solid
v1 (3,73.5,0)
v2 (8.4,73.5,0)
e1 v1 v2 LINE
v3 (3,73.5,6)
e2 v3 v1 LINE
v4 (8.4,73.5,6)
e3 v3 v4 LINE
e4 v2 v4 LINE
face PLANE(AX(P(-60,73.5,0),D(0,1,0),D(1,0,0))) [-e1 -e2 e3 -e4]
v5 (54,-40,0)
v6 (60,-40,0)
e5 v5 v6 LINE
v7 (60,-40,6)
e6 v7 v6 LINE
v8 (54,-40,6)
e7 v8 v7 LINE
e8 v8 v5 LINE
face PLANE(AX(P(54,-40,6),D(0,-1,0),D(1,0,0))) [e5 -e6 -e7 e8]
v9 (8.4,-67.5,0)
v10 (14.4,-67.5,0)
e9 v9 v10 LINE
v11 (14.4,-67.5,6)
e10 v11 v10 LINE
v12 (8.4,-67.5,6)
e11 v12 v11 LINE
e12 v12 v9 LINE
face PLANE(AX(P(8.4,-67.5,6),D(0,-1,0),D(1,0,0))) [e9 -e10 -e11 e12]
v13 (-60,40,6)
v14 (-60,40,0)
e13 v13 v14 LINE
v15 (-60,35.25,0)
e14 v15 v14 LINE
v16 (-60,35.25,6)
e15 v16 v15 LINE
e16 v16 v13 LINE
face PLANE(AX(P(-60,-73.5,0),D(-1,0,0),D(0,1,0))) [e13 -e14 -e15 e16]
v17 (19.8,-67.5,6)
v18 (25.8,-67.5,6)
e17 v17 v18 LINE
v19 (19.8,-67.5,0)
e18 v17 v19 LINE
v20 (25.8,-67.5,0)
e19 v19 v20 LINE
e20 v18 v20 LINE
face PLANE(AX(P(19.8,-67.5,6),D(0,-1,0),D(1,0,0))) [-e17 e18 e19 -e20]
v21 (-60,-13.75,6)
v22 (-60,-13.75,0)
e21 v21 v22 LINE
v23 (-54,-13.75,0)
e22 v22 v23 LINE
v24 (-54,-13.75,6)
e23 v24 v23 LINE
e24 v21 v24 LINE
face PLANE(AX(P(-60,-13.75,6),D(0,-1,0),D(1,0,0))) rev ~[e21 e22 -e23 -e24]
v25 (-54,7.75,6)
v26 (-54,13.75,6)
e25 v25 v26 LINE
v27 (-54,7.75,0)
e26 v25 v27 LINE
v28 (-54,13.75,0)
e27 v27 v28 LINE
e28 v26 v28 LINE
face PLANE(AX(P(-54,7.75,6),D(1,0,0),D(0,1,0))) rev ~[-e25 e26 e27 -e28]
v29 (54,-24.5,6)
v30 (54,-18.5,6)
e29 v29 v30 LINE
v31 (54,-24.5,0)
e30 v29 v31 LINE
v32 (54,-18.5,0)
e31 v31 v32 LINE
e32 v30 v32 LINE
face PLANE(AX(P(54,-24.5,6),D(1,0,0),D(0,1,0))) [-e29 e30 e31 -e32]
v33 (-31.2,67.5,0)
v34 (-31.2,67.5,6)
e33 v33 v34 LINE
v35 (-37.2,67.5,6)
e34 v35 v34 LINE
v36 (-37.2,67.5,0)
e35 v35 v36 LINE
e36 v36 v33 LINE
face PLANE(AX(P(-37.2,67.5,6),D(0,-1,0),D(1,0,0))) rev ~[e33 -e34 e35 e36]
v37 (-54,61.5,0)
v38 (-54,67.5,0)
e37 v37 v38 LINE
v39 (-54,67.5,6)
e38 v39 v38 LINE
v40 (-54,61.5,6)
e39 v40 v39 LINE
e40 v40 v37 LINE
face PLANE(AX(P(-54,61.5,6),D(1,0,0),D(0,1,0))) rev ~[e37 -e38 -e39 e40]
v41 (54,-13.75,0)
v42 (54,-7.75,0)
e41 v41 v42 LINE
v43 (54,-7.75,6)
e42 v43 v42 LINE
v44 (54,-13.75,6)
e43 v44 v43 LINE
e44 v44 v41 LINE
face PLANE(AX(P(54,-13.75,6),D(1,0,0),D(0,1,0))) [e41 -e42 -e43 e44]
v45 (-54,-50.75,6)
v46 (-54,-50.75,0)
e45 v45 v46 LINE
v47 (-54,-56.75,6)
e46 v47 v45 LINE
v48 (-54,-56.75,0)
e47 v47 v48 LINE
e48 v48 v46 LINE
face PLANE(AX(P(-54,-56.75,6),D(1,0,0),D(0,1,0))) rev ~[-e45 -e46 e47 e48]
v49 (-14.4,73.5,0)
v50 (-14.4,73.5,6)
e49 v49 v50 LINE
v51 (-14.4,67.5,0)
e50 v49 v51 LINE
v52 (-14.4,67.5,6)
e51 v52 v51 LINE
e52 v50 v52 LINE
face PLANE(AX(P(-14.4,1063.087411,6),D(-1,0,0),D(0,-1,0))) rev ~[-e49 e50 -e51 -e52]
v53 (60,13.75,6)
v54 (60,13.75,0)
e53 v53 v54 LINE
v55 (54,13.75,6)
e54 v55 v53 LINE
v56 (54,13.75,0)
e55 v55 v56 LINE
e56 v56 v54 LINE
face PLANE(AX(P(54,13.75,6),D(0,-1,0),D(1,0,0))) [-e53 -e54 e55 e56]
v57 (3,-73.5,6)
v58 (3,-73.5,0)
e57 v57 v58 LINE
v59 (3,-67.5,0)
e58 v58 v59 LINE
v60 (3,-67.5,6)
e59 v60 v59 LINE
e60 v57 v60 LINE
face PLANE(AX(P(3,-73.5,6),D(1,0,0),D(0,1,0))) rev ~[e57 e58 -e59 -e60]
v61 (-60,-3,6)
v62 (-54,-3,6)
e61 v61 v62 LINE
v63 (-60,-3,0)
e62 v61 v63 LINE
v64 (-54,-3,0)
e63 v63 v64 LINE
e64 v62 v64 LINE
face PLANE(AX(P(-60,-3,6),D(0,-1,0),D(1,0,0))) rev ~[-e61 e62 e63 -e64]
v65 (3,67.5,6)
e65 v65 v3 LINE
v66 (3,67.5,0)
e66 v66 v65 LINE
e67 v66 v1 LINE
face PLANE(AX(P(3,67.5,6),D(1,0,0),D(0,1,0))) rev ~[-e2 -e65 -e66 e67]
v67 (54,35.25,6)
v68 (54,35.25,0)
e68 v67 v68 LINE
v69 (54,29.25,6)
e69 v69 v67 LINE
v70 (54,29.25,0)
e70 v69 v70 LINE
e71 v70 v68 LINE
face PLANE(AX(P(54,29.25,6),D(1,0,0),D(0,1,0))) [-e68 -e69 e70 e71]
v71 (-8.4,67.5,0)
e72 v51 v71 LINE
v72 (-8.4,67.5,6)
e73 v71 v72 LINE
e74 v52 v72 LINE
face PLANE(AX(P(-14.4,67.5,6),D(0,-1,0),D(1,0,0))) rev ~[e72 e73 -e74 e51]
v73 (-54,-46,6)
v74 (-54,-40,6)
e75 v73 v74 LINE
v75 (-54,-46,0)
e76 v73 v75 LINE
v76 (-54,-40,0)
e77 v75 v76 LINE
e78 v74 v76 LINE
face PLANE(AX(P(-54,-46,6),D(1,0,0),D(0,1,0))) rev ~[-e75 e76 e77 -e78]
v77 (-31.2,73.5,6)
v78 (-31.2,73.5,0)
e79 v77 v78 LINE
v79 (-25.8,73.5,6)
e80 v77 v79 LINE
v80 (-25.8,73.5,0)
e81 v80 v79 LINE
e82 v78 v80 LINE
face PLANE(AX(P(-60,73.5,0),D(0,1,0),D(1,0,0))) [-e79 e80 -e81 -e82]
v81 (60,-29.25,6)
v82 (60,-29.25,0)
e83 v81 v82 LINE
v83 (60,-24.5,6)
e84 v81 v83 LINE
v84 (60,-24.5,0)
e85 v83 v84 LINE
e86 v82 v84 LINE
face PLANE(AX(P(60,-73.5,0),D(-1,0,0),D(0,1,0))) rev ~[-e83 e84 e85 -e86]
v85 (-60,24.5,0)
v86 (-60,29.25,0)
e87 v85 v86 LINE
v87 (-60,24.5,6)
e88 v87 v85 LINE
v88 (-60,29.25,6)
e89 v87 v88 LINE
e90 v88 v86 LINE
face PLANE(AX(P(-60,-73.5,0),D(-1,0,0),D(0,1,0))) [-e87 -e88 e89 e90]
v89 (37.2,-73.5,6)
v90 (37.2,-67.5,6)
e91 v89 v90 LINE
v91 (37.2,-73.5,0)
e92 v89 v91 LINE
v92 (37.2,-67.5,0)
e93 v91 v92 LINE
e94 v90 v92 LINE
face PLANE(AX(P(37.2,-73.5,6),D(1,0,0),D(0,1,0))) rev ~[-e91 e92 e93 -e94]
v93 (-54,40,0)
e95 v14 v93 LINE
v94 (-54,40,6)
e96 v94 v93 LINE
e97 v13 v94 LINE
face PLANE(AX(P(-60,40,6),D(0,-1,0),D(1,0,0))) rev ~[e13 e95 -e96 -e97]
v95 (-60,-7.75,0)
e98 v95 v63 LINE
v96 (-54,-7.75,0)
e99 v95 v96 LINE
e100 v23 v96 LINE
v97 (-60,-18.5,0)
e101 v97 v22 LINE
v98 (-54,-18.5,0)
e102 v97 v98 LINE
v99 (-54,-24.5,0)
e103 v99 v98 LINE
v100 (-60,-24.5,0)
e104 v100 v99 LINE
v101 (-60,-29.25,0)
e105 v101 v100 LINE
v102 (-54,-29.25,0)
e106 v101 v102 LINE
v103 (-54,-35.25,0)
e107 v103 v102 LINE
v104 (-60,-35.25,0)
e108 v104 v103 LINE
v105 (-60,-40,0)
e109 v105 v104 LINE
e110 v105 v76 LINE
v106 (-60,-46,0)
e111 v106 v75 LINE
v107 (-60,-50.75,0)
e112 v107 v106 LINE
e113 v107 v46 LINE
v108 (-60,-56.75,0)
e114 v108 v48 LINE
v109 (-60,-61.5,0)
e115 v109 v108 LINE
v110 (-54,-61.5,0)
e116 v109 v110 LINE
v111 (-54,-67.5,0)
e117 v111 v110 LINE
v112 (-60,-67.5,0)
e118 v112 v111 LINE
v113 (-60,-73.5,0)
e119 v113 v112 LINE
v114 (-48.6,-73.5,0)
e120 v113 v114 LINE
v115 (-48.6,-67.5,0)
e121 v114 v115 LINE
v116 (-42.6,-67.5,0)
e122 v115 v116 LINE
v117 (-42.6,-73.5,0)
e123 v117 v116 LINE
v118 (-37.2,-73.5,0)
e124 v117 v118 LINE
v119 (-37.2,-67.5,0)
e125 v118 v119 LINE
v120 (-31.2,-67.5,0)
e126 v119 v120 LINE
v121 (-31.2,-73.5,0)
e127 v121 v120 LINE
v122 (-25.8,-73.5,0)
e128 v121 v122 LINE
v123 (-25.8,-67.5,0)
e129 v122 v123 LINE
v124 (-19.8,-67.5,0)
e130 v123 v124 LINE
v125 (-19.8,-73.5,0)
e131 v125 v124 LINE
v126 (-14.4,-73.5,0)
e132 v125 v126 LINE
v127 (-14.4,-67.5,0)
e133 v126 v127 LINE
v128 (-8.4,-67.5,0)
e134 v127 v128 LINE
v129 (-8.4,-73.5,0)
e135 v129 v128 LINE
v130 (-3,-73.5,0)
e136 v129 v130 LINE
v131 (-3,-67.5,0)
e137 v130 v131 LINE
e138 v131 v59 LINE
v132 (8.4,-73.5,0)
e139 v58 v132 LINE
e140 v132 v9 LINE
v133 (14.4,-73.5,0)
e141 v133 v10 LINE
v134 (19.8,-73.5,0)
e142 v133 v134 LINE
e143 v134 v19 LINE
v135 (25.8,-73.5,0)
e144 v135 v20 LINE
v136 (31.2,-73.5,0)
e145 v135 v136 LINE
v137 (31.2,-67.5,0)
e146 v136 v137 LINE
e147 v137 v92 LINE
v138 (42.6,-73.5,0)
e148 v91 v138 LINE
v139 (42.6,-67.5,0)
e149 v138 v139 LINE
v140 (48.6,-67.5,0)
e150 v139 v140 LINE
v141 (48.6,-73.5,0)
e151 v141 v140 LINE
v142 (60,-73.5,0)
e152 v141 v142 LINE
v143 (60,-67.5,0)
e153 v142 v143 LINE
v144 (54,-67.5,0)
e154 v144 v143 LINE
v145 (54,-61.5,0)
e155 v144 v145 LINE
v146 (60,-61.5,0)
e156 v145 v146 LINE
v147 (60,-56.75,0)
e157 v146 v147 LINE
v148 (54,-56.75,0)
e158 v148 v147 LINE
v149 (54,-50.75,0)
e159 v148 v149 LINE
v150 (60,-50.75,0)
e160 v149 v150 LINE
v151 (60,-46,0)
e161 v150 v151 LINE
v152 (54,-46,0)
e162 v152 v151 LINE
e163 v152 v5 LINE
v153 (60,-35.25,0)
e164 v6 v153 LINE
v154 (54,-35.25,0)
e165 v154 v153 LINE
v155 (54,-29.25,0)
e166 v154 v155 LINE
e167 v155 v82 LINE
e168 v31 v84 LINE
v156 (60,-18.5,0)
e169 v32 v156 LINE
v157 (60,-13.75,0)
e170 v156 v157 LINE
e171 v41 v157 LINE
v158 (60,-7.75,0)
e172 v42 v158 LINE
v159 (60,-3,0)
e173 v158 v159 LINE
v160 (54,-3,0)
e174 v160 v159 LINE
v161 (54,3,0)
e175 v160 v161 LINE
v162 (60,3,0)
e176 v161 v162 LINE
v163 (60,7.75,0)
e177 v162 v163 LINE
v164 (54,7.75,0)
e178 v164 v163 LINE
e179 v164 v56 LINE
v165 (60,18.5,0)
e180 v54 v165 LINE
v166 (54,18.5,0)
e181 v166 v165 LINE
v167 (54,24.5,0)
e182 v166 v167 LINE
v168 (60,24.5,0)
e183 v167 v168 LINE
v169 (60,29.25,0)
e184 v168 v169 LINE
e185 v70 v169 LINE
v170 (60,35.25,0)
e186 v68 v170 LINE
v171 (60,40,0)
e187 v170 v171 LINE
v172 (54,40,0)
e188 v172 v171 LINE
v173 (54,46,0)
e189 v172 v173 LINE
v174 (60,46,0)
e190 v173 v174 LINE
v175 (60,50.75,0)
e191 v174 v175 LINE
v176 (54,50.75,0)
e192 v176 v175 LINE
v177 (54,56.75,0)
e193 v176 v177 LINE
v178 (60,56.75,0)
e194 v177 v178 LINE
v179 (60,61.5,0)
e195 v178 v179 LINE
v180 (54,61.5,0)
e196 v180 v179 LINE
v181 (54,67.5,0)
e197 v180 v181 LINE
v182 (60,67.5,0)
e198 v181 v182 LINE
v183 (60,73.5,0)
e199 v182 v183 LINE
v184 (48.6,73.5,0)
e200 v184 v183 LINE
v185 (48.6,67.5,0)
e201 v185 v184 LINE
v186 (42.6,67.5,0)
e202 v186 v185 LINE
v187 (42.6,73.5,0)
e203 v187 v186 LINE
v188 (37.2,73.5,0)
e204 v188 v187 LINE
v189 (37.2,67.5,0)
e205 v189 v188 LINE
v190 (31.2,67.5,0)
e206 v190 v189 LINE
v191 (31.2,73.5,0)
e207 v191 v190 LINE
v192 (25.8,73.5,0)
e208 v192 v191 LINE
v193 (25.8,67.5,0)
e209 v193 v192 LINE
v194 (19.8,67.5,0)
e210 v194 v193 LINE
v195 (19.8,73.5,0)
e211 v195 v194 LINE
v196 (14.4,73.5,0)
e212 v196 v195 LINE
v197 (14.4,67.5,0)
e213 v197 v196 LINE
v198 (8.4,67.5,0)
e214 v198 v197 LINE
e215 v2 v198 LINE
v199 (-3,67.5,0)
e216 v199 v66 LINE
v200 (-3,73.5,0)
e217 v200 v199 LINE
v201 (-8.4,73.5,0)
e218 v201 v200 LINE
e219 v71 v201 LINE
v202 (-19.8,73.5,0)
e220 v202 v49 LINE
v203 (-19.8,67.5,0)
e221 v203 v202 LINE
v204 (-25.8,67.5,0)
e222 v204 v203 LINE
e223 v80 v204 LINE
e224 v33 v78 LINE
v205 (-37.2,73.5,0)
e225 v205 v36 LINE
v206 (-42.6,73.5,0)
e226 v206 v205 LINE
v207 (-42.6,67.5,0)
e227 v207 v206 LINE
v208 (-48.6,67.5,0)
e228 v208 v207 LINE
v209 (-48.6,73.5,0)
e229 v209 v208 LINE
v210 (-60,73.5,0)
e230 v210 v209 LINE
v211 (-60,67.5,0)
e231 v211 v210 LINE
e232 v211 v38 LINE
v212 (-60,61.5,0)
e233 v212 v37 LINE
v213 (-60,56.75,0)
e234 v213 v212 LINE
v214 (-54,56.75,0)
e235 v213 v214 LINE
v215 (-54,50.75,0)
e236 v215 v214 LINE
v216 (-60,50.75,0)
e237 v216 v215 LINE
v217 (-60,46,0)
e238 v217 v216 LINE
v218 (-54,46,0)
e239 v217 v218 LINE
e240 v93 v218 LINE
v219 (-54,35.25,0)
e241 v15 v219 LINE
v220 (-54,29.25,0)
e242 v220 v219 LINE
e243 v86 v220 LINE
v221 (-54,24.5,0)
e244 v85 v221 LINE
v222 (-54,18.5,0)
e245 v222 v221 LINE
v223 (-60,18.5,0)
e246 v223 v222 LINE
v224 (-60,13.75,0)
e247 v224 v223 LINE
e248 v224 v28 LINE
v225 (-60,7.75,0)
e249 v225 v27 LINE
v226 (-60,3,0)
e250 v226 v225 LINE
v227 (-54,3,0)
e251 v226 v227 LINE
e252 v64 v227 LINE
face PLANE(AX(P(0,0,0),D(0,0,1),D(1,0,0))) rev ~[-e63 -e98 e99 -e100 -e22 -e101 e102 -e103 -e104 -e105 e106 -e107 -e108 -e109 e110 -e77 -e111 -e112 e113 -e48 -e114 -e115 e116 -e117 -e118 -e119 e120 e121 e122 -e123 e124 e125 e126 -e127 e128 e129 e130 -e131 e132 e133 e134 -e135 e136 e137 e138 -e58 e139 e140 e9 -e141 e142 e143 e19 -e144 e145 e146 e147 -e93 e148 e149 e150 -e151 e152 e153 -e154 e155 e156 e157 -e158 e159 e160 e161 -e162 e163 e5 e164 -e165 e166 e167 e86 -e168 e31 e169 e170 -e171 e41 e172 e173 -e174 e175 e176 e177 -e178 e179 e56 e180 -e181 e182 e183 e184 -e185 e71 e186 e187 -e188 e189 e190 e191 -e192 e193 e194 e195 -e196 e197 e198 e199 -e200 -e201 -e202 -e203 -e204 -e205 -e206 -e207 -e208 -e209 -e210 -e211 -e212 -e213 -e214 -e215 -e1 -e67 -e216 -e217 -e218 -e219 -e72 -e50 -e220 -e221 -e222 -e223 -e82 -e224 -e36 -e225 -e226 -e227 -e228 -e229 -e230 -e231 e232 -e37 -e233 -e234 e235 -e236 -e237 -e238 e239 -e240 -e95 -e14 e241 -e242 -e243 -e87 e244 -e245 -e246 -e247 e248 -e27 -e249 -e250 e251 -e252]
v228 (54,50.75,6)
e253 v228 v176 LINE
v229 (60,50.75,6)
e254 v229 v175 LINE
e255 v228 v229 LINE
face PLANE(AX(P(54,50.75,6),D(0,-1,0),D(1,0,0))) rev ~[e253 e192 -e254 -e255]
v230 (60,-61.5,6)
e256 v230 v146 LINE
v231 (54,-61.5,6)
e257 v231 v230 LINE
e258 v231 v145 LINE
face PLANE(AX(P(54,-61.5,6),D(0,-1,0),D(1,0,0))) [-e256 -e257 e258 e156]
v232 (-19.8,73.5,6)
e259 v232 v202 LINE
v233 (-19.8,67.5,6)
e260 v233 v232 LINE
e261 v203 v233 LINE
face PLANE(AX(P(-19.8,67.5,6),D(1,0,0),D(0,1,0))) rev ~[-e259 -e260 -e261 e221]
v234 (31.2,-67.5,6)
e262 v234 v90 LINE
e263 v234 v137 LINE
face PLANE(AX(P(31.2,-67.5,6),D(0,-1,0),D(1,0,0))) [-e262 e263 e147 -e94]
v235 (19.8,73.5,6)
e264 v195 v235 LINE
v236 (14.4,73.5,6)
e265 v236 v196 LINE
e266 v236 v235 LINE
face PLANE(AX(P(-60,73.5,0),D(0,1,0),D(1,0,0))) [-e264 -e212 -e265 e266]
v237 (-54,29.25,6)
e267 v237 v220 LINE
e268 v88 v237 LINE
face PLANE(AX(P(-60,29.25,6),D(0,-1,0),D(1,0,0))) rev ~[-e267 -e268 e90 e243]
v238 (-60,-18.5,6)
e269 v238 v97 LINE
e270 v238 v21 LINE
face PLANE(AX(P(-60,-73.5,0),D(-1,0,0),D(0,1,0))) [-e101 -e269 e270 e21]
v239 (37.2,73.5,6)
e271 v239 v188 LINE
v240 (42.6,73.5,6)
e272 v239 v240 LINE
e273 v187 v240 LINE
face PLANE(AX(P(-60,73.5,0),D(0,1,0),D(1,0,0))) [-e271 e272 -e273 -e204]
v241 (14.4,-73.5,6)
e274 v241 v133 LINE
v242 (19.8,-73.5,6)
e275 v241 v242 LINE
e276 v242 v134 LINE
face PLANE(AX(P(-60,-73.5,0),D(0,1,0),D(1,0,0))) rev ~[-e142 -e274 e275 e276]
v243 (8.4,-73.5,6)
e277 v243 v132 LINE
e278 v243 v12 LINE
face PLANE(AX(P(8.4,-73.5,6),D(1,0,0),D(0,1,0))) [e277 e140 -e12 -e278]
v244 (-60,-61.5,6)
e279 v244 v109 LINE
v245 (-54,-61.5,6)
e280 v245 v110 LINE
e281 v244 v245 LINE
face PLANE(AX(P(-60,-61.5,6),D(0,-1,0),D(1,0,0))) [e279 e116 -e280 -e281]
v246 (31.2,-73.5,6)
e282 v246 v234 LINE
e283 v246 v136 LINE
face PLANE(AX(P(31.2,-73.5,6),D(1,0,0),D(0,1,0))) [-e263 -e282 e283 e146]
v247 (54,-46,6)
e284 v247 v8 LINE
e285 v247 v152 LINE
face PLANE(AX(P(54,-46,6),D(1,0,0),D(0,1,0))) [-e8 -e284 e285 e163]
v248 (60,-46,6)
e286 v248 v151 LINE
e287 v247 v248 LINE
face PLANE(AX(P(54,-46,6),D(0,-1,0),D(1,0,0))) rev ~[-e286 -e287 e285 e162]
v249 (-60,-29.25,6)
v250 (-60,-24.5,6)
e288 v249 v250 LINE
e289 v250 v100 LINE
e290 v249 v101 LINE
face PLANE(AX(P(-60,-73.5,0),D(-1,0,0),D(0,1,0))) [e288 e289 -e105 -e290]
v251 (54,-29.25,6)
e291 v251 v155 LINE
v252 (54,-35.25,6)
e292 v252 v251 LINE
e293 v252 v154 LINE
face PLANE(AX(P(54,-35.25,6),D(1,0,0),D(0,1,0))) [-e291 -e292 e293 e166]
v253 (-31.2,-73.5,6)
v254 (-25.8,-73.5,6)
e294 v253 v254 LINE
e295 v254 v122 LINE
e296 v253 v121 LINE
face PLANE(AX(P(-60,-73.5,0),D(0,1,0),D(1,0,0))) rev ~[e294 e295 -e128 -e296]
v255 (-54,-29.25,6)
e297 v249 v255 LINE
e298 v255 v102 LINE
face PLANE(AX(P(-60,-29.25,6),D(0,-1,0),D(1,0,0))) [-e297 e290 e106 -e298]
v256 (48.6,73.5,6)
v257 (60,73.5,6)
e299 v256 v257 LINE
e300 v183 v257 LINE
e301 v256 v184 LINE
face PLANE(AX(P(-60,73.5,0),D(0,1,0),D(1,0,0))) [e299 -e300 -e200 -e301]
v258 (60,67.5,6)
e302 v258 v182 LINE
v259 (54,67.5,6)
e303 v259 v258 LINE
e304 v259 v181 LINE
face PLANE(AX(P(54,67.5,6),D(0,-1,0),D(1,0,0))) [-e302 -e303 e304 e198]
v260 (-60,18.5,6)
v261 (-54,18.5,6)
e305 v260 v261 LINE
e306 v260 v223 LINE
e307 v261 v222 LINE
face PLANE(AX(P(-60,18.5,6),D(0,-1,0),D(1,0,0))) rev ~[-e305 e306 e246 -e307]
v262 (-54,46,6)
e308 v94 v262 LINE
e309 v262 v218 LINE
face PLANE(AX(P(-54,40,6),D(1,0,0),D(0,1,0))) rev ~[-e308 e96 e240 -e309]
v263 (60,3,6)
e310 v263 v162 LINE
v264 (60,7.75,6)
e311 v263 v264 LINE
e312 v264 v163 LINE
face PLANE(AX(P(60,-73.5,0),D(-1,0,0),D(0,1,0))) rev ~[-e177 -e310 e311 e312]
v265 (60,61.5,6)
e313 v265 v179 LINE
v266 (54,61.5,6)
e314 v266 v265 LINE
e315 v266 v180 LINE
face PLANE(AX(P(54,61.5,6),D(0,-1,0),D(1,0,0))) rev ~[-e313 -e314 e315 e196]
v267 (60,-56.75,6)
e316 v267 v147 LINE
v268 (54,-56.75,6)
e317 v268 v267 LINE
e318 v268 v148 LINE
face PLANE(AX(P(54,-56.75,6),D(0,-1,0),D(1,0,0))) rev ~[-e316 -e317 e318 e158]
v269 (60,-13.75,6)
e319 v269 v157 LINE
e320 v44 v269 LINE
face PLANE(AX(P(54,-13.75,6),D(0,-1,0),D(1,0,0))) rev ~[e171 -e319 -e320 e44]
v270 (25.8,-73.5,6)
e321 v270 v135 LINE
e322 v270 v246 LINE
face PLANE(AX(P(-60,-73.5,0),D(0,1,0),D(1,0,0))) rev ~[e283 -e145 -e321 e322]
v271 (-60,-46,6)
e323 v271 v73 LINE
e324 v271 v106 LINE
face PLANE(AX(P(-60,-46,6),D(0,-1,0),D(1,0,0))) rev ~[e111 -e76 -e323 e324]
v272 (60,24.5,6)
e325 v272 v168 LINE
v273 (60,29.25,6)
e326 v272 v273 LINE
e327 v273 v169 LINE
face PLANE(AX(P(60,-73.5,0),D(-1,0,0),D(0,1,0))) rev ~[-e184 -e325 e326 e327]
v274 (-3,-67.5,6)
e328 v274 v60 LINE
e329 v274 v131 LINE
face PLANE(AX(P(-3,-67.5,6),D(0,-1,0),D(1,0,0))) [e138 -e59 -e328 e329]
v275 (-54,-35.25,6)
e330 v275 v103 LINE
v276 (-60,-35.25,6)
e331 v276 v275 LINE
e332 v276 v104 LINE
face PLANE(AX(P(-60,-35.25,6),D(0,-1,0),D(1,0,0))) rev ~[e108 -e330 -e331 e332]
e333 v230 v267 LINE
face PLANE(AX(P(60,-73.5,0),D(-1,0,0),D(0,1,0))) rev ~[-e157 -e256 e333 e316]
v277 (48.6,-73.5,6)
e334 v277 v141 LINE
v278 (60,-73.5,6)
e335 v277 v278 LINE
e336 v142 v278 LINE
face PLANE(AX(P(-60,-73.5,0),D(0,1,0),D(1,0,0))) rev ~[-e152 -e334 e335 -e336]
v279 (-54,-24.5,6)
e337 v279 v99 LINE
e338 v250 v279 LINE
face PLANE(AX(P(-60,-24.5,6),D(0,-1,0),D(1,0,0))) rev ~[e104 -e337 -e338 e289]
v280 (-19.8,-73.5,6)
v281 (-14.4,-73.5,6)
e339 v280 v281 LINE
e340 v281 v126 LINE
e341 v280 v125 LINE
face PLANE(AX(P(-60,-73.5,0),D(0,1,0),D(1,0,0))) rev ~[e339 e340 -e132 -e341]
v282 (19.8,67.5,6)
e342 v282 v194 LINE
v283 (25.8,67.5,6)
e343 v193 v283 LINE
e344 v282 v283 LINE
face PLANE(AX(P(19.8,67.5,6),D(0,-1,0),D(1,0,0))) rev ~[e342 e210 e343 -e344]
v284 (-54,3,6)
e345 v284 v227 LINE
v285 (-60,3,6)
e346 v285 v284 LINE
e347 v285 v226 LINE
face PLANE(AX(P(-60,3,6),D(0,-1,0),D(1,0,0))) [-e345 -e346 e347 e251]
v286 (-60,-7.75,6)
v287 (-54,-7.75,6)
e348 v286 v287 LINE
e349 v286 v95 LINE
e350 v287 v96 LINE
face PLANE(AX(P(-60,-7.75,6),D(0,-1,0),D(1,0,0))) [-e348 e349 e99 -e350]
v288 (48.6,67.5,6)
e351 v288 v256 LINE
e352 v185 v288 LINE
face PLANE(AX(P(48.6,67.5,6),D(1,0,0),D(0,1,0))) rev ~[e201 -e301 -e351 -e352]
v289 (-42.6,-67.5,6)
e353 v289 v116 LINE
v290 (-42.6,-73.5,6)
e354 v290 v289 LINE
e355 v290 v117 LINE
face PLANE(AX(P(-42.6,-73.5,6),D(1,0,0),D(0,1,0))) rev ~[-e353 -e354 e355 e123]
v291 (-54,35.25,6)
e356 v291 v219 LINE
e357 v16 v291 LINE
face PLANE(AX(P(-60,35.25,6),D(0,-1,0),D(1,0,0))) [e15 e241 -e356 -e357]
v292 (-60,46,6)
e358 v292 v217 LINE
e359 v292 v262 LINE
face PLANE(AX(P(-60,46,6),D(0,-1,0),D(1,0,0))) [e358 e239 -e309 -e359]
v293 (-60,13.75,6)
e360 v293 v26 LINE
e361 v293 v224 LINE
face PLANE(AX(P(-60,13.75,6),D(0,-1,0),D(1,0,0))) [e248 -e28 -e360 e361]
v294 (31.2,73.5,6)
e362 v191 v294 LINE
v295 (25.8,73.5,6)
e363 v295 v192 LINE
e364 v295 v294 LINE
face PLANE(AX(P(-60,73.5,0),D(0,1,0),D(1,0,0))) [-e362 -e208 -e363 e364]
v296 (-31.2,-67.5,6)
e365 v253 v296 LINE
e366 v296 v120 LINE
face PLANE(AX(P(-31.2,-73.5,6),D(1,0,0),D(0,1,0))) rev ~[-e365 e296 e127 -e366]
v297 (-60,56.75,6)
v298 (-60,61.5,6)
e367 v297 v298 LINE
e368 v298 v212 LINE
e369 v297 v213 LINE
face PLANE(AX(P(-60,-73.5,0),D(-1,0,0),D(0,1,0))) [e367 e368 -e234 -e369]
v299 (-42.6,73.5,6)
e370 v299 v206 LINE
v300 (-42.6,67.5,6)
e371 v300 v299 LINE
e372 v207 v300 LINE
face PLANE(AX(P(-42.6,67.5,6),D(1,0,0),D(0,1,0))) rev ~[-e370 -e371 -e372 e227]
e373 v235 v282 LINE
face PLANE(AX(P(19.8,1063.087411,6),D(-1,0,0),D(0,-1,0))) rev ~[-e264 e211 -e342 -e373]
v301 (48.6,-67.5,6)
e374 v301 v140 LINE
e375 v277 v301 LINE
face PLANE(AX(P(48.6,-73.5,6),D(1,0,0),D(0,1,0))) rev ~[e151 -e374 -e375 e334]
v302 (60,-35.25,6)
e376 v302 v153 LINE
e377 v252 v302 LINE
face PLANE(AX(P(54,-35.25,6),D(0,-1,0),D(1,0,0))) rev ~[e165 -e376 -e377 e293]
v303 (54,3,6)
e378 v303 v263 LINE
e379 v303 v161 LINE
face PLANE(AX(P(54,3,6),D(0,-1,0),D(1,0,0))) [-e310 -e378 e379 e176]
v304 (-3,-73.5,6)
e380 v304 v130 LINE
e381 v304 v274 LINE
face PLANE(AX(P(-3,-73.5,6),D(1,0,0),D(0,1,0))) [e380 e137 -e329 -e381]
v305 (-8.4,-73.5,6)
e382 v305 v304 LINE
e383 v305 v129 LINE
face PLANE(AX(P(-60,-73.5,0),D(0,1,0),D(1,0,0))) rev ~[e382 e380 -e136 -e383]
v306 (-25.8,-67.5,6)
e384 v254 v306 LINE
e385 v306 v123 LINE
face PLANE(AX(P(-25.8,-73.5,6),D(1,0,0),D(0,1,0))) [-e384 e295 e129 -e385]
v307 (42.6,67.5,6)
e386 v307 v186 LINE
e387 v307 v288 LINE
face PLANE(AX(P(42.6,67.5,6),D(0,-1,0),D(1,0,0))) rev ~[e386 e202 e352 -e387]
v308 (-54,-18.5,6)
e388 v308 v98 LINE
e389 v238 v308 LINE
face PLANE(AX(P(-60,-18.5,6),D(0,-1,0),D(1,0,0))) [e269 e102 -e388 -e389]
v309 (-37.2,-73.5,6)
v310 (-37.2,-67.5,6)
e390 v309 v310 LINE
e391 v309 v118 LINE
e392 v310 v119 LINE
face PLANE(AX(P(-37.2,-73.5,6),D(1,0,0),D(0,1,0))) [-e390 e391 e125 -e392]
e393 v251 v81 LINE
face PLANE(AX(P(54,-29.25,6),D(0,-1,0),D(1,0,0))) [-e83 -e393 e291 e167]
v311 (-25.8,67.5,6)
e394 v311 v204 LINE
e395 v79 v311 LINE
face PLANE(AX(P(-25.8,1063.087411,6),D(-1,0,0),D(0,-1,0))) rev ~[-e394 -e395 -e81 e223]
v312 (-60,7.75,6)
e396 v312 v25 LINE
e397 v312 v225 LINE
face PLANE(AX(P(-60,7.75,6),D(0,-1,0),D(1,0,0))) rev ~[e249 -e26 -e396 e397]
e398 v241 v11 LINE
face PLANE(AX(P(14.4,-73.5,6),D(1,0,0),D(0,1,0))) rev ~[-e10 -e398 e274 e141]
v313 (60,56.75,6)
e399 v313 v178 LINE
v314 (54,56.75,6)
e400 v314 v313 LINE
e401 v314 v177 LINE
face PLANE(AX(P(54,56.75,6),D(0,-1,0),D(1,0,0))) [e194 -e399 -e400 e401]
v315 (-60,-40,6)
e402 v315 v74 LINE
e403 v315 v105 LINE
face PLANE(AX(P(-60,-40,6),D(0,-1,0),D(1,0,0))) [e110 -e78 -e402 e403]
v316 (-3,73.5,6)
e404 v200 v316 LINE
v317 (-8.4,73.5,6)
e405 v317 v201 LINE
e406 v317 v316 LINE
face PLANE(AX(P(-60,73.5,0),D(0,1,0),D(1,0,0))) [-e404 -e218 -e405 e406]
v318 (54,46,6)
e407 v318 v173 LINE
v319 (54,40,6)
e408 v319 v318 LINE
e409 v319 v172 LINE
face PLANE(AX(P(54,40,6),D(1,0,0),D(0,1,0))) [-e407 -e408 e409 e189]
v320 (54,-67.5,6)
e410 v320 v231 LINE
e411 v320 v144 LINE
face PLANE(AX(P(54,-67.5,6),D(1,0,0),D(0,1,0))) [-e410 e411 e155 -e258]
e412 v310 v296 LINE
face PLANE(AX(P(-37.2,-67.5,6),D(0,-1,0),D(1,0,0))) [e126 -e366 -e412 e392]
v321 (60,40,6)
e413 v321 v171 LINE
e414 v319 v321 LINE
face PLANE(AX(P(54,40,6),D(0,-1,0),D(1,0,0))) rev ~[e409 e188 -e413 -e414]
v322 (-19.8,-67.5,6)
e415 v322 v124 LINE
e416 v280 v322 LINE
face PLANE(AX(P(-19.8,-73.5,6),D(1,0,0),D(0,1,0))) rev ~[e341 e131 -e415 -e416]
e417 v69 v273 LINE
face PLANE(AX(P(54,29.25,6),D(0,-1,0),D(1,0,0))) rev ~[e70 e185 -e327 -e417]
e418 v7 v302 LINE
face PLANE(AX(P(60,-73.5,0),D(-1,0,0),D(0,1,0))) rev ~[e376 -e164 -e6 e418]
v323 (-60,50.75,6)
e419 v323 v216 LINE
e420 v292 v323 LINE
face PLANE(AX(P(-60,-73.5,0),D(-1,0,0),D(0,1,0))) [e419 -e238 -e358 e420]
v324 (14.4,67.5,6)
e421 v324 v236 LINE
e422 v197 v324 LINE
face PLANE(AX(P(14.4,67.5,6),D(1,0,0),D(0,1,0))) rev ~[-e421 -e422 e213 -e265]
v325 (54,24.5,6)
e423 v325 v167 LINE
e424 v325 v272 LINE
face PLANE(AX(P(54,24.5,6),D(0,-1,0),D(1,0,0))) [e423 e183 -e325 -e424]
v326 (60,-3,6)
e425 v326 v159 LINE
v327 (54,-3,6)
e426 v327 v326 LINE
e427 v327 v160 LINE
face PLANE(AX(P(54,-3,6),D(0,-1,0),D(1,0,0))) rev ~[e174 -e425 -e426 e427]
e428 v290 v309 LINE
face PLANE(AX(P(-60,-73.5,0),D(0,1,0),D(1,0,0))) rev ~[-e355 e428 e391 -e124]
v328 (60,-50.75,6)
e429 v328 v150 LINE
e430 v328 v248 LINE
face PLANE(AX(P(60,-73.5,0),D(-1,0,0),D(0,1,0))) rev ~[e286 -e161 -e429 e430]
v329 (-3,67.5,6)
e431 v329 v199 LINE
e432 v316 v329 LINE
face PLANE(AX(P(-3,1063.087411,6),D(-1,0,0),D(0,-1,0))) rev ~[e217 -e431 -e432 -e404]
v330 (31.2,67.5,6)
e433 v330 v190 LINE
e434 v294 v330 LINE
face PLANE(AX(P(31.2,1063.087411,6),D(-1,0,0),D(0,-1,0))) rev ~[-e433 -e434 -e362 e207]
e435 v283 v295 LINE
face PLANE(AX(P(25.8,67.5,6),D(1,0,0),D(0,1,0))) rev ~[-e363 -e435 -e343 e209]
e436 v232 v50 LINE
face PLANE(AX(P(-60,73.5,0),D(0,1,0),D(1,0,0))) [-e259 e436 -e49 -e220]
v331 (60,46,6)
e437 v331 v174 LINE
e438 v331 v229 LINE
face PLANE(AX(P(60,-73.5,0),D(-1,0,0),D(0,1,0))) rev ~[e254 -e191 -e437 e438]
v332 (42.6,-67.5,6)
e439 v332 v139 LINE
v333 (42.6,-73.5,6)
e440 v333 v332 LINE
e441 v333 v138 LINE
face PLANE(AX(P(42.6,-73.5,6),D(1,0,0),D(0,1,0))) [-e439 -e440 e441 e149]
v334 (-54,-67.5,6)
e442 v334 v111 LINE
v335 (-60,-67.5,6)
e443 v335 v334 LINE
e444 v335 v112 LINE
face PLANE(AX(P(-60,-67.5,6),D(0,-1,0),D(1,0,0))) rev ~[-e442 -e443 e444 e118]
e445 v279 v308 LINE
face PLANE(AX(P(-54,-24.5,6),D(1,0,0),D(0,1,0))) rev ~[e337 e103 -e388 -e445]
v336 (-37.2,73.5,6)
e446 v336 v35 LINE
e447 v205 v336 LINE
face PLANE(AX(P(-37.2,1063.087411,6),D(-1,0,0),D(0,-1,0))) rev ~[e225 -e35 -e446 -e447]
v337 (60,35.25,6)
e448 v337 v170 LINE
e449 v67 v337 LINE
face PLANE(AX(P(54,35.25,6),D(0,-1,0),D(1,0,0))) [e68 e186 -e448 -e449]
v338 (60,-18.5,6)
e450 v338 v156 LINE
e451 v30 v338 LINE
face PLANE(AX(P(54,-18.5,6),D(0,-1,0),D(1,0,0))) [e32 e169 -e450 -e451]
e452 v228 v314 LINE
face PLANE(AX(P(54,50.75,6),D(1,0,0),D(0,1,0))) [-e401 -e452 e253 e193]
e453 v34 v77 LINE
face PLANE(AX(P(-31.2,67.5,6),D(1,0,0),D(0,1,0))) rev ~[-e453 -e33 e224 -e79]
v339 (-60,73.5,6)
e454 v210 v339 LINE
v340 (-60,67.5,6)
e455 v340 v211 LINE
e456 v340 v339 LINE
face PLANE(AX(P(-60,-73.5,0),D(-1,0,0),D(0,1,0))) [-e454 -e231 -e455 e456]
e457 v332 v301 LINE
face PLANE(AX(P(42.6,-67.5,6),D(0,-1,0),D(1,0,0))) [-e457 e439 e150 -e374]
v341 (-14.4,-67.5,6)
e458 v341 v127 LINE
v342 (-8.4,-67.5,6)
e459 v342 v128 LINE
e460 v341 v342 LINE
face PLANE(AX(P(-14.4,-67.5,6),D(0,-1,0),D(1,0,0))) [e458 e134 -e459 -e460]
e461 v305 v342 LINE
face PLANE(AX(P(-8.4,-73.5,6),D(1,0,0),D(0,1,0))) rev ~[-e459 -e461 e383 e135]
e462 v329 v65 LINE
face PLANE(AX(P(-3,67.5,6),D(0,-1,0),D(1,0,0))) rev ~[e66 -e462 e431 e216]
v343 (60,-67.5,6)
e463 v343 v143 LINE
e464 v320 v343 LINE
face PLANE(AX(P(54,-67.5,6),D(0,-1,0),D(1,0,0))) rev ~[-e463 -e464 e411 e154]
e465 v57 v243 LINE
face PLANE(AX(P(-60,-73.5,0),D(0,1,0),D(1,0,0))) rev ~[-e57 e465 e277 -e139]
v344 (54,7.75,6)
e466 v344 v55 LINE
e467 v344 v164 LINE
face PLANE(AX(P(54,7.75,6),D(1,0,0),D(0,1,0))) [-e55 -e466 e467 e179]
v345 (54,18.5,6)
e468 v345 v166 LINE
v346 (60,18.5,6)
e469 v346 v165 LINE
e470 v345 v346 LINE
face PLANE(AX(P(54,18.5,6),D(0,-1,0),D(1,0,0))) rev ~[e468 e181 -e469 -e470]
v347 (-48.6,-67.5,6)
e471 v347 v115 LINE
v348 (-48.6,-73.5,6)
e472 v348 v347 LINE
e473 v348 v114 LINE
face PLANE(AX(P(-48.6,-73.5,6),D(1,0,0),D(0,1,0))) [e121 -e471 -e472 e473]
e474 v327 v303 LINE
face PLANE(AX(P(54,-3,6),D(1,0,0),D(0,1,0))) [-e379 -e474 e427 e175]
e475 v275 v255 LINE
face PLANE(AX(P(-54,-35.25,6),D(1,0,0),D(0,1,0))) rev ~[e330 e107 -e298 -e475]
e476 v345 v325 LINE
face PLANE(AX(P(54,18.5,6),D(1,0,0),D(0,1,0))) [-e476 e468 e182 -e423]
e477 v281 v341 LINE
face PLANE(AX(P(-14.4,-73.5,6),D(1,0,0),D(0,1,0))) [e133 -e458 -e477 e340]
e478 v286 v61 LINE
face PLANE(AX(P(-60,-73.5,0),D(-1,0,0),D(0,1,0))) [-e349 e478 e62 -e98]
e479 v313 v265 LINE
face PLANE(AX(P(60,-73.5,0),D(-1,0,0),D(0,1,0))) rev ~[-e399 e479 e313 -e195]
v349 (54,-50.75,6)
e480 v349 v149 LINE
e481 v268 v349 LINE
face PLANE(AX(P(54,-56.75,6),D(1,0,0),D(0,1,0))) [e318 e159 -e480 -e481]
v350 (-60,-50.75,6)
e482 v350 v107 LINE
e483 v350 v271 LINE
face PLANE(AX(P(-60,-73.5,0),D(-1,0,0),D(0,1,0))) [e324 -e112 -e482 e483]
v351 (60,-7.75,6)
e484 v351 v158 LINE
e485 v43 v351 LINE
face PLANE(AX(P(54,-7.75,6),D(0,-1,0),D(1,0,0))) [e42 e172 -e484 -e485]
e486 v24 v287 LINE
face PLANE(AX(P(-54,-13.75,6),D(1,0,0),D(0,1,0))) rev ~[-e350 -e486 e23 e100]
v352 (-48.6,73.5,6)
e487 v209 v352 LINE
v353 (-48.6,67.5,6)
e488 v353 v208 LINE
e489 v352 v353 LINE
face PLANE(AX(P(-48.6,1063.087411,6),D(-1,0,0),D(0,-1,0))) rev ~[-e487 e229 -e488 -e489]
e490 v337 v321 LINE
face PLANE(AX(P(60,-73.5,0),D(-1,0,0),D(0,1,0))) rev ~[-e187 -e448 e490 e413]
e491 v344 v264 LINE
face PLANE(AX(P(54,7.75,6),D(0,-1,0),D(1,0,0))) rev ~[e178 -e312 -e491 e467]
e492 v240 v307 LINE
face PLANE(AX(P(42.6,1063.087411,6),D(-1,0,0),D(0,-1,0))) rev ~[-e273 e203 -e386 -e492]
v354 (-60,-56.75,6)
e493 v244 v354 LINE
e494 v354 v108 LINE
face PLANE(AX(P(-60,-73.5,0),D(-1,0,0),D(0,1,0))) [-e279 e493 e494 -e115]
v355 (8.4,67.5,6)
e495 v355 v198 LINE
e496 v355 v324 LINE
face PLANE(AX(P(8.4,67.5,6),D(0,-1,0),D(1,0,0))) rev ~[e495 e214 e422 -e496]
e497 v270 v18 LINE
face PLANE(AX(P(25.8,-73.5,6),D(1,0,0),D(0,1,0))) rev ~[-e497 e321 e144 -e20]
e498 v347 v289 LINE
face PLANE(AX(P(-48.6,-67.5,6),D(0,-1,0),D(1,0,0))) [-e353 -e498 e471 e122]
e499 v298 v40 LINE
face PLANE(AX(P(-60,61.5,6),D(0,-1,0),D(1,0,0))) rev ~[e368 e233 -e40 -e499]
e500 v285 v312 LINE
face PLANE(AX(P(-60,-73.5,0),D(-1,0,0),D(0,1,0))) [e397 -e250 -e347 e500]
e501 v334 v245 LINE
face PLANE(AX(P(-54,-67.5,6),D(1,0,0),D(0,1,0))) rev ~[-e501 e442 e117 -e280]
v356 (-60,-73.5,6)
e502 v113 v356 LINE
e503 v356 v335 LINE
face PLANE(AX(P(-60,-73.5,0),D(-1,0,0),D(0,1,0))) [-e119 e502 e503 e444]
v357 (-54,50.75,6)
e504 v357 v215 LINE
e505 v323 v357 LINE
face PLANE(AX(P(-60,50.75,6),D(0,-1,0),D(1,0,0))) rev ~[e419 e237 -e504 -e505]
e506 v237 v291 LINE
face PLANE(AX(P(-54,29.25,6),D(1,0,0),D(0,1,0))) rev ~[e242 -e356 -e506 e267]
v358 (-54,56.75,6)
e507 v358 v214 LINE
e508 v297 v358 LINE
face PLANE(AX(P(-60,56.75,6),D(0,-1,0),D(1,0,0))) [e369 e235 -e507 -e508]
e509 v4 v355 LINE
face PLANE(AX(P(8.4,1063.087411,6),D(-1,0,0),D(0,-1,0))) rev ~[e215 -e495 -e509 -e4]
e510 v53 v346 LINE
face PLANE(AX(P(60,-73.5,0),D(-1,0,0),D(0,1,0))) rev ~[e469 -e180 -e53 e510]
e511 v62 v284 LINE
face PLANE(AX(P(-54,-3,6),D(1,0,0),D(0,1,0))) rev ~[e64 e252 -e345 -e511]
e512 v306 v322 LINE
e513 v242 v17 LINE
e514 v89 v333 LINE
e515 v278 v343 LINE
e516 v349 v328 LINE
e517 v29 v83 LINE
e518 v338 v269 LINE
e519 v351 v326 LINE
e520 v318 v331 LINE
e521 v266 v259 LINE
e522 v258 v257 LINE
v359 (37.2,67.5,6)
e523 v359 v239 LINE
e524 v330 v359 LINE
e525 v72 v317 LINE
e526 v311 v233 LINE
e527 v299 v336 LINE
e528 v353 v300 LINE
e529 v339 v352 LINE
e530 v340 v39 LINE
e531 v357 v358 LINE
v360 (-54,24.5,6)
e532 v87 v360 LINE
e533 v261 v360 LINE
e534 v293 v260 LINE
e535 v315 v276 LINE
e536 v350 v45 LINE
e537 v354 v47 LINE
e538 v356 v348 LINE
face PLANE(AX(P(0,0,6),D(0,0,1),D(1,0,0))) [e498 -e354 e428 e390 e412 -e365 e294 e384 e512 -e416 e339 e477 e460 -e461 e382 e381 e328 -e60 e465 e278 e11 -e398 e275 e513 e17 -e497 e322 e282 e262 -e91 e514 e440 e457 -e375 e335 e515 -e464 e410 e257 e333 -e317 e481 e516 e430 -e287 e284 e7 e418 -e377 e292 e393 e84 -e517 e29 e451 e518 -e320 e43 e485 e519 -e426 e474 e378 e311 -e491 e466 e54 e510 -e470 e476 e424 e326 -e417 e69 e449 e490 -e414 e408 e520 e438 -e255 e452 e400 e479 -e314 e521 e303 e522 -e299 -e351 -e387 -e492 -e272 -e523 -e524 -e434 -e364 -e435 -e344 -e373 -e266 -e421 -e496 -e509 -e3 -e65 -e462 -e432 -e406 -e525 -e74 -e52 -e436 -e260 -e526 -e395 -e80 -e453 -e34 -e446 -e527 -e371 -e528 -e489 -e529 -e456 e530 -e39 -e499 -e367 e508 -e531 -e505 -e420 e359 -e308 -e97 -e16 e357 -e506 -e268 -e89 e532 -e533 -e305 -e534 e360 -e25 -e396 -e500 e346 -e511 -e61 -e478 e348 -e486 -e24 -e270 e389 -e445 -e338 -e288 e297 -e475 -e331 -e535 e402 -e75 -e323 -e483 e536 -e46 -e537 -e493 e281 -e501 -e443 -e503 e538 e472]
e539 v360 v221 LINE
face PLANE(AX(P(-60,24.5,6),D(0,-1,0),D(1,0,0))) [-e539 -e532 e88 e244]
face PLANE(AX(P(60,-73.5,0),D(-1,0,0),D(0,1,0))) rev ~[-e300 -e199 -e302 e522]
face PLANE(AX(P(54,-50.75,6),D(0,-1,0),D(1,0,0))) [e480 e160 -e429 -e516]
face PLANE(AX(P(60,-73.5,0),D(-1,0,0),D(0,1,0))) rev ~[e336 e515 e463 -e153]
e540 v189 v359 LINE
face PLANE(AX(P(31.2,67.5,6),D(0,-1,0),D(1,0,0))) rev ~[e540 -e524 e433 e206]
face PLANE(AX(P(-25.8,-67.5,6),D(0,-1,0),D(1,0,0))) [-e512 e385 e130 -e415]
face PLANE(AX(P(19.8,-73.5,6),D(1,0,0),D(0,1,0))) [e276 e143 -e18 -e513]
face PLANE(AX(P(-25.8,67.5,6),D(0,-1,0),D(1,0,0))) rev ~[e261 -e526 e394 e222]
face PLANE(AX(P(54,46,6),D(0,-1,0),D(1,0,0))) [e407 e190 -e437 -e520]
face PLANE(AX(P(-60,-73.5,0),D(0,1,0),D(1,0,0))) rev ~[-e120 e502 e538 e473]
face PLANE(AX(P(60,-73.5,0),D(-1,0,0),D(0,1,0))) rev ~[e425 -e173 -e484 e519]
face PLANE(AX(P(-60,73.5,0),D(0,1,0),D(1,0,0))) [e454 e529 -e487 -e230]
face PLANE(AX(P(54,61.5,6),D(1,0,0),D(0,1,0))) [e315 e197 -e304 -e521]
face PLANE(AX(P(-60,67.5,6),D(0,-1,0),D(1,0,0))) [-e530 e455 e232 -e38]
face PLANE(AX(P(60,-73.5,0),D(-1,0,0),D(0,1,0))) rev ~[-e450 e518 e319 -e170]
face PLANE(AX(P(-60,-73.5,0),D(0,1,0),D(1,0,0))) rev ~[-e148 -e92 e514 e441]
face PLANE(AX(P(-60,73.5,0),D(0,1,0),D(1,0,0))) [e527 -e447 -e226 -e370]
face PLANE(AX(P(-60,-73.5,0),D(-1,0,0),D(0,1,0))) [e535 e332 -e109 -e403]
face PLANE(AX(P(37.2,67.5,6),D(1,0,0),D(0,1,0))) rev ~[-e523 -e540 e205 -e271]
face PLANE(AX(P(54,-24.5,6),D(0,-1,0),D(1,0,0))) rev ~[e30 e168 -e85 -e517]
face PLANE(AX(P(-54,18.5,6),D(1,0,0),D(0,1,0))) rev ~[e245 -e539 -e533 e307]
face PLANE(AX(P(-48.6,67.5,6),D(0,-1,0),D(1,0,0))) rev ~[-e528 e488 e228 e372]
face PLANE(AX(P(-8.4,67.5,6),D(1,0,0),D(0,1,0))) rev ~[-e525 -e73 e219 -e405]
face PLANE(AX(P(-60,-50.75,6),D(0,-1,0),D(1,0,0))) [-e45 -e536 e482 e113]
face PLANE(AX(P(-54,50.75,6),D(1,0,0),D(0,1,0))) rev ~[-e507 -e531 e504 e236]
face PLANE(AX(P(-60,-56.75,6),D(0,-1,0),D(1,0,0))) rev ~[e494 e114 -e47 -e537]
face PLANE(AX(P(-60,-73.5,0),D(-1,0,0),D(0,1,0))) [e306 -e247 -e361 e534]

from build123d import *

# Parameters (mm, degrees)
ESBO_O1_W                = 120
ESBO_O1_H                = 147
RESSALTO_EXTRUS_O1_DEPTH = 6
CORTE_EXTRUS_O1_DEPTH    = 96.069711265
ESBO_O3_W                = 6
ESBO_O3_H                = 6
CORTE_EXTRUS_O2_DEPTH    = 96.069711265
PADR_O_LINEAR1_COUNT     = 7
PADR_O_LINEAR1_PITCH     = 10.75
PADR_O_LINEAR1_COL_COUNT = 7
PADR_O_LINEAR1_COL_PITCH = 10.75
PADR_O_LINEAR2_COUNT     = 5
PADR_O_LINEAR2_PITCH     = 11.4
PADR_O_LINEAR3_COUNT     = 5
PADR_O_LINEAR3_PITCH     = 11.4
ESBO_O4_W                = 6
ESBO_O4_H                = 6
CORTE_EXTRUS_O3_DEPTH    = 96.069711265
PADR_O_LINEAR4_COUNT     = 5
PADR_O_LINEAR4_PITCH     = 11.4
PADR_O_LINEAR5_COUNT     = 5
PADR_O_LINEAR5_PITCH     = 11.4


with BuildPart() as part:
    # Esboço1 → Ressalto-extrusão1 (new body)
    with BuildSketch(Plane.XY):
        Rectangle(ESBO_O1_W, ESBO_O1_H)
    extrude(amount=RESSALTO_EXTRUS_O1_DEPTH)

    # Esboço2 → Corte-extrusão1 (cut, symmetric)
    with BuildSketch(Plane.XY.offset(6)):
        Polygon((-3, 403.362470446), (-3, 73.5), (-3, 67.5), (3, 67.5), (3, 73.5), (3, 403.362470446), (3, 1063.087411339), (-3, 1063.087411339), align=None)
    corte_extrus_o1 = extrude(amount=CORTE_EXTRUS_O1_DEPTH, both=True, mode=Mode.SUBTRACT)

    # Esboço3 → Corte-extrusão2 (cut, through all)
    with BuildSketch(Plane.XY.offset(6)):
        with Locations((-57, 0)):
            Rectangle(ESBO_O3_W, ESBO_O3_H)
        with Locations((57, 0)):
            Rectangle(ESBO_O3_W, ESBO_O3_H)
    corte_extrus_o2 = extrude(amount=-CORTE_EXTRUS_O2_DEPTH, mode=Mode.SUBTRACT)

    # Padrão linear1: Corte-extrusão2 ×7
    with Locations(*[(0, i * PADR_O_LINEAR1_PITCH, 0) for i in range(1, PADR_O_LINEAR1_COUNT)]):
        add(corte_extrus_o2, mode=Mode.SUBTRACT)

    # Padrão linear1 col: Corte-extrusão2 ×7
    with Locations(*[(0, -i * PADR_O_LINEAR1_COL_PITCH, 0) for i in range(1, PADR_O_LINEAR1_COL_COUNT)]):
        add(corte_extrus_o2, mode=Mode.SUBTRACT)

    # Padrão linear2: Corte-extrusão1 ×5
    with Locations(*[(-i * PADR_O_LINEAR2_PITCH, 0, 0) for i in range(1, PADR_O_LINEAR2_COUNT)]):
        add(corte_extrus_o1, mode=Mode.SUBTRACT)

    # Padrão linear3: Corte-extrusão1 ×5
    with Locations(*[(i * PADR_O_LINEAR3_PITCH, 0, 0) for i in range(1, PADR_O_LINEAR3_COUNT)]):
        add(corte_extrus_o1, mode=Mode.SUBTRACT)

    # Esboço4 → Corte-extrusão3 (cut, through all)
    with BuildSketch(Plane.XY.offset(6)):
        with Locations((0, -70.5)):
            Rectangle(ESBO_O4_W, ESBO_O4_H)
    corte_extrus_o3 = extrude(amount=-CORTE_EXTRUS_O3_DEPTH, mode=Mode.SUBTRACT)

    # Padrão linear4: Corte-extrusão3 ×5
    with Locations(*[(-i * PADR_O_LINEAR4_PITCH, 0, 0) for i in range(1, PADR_O_LINEAR4_COUNT)]):
        add(corte_extrus_o3, mode=Mode.SUBTRACT)

    # Padrão linear5: Corte-extrusão3 ×5
    with Locations(*[(i * PADR_O_LINEAR5_PITCH, 0, 0) for i in range(1, PADR_O_LINEAR5_COUNT)]):
        add(corte_extrus_o3, mode=Mode.SUBTRACT)


solid = part.part
